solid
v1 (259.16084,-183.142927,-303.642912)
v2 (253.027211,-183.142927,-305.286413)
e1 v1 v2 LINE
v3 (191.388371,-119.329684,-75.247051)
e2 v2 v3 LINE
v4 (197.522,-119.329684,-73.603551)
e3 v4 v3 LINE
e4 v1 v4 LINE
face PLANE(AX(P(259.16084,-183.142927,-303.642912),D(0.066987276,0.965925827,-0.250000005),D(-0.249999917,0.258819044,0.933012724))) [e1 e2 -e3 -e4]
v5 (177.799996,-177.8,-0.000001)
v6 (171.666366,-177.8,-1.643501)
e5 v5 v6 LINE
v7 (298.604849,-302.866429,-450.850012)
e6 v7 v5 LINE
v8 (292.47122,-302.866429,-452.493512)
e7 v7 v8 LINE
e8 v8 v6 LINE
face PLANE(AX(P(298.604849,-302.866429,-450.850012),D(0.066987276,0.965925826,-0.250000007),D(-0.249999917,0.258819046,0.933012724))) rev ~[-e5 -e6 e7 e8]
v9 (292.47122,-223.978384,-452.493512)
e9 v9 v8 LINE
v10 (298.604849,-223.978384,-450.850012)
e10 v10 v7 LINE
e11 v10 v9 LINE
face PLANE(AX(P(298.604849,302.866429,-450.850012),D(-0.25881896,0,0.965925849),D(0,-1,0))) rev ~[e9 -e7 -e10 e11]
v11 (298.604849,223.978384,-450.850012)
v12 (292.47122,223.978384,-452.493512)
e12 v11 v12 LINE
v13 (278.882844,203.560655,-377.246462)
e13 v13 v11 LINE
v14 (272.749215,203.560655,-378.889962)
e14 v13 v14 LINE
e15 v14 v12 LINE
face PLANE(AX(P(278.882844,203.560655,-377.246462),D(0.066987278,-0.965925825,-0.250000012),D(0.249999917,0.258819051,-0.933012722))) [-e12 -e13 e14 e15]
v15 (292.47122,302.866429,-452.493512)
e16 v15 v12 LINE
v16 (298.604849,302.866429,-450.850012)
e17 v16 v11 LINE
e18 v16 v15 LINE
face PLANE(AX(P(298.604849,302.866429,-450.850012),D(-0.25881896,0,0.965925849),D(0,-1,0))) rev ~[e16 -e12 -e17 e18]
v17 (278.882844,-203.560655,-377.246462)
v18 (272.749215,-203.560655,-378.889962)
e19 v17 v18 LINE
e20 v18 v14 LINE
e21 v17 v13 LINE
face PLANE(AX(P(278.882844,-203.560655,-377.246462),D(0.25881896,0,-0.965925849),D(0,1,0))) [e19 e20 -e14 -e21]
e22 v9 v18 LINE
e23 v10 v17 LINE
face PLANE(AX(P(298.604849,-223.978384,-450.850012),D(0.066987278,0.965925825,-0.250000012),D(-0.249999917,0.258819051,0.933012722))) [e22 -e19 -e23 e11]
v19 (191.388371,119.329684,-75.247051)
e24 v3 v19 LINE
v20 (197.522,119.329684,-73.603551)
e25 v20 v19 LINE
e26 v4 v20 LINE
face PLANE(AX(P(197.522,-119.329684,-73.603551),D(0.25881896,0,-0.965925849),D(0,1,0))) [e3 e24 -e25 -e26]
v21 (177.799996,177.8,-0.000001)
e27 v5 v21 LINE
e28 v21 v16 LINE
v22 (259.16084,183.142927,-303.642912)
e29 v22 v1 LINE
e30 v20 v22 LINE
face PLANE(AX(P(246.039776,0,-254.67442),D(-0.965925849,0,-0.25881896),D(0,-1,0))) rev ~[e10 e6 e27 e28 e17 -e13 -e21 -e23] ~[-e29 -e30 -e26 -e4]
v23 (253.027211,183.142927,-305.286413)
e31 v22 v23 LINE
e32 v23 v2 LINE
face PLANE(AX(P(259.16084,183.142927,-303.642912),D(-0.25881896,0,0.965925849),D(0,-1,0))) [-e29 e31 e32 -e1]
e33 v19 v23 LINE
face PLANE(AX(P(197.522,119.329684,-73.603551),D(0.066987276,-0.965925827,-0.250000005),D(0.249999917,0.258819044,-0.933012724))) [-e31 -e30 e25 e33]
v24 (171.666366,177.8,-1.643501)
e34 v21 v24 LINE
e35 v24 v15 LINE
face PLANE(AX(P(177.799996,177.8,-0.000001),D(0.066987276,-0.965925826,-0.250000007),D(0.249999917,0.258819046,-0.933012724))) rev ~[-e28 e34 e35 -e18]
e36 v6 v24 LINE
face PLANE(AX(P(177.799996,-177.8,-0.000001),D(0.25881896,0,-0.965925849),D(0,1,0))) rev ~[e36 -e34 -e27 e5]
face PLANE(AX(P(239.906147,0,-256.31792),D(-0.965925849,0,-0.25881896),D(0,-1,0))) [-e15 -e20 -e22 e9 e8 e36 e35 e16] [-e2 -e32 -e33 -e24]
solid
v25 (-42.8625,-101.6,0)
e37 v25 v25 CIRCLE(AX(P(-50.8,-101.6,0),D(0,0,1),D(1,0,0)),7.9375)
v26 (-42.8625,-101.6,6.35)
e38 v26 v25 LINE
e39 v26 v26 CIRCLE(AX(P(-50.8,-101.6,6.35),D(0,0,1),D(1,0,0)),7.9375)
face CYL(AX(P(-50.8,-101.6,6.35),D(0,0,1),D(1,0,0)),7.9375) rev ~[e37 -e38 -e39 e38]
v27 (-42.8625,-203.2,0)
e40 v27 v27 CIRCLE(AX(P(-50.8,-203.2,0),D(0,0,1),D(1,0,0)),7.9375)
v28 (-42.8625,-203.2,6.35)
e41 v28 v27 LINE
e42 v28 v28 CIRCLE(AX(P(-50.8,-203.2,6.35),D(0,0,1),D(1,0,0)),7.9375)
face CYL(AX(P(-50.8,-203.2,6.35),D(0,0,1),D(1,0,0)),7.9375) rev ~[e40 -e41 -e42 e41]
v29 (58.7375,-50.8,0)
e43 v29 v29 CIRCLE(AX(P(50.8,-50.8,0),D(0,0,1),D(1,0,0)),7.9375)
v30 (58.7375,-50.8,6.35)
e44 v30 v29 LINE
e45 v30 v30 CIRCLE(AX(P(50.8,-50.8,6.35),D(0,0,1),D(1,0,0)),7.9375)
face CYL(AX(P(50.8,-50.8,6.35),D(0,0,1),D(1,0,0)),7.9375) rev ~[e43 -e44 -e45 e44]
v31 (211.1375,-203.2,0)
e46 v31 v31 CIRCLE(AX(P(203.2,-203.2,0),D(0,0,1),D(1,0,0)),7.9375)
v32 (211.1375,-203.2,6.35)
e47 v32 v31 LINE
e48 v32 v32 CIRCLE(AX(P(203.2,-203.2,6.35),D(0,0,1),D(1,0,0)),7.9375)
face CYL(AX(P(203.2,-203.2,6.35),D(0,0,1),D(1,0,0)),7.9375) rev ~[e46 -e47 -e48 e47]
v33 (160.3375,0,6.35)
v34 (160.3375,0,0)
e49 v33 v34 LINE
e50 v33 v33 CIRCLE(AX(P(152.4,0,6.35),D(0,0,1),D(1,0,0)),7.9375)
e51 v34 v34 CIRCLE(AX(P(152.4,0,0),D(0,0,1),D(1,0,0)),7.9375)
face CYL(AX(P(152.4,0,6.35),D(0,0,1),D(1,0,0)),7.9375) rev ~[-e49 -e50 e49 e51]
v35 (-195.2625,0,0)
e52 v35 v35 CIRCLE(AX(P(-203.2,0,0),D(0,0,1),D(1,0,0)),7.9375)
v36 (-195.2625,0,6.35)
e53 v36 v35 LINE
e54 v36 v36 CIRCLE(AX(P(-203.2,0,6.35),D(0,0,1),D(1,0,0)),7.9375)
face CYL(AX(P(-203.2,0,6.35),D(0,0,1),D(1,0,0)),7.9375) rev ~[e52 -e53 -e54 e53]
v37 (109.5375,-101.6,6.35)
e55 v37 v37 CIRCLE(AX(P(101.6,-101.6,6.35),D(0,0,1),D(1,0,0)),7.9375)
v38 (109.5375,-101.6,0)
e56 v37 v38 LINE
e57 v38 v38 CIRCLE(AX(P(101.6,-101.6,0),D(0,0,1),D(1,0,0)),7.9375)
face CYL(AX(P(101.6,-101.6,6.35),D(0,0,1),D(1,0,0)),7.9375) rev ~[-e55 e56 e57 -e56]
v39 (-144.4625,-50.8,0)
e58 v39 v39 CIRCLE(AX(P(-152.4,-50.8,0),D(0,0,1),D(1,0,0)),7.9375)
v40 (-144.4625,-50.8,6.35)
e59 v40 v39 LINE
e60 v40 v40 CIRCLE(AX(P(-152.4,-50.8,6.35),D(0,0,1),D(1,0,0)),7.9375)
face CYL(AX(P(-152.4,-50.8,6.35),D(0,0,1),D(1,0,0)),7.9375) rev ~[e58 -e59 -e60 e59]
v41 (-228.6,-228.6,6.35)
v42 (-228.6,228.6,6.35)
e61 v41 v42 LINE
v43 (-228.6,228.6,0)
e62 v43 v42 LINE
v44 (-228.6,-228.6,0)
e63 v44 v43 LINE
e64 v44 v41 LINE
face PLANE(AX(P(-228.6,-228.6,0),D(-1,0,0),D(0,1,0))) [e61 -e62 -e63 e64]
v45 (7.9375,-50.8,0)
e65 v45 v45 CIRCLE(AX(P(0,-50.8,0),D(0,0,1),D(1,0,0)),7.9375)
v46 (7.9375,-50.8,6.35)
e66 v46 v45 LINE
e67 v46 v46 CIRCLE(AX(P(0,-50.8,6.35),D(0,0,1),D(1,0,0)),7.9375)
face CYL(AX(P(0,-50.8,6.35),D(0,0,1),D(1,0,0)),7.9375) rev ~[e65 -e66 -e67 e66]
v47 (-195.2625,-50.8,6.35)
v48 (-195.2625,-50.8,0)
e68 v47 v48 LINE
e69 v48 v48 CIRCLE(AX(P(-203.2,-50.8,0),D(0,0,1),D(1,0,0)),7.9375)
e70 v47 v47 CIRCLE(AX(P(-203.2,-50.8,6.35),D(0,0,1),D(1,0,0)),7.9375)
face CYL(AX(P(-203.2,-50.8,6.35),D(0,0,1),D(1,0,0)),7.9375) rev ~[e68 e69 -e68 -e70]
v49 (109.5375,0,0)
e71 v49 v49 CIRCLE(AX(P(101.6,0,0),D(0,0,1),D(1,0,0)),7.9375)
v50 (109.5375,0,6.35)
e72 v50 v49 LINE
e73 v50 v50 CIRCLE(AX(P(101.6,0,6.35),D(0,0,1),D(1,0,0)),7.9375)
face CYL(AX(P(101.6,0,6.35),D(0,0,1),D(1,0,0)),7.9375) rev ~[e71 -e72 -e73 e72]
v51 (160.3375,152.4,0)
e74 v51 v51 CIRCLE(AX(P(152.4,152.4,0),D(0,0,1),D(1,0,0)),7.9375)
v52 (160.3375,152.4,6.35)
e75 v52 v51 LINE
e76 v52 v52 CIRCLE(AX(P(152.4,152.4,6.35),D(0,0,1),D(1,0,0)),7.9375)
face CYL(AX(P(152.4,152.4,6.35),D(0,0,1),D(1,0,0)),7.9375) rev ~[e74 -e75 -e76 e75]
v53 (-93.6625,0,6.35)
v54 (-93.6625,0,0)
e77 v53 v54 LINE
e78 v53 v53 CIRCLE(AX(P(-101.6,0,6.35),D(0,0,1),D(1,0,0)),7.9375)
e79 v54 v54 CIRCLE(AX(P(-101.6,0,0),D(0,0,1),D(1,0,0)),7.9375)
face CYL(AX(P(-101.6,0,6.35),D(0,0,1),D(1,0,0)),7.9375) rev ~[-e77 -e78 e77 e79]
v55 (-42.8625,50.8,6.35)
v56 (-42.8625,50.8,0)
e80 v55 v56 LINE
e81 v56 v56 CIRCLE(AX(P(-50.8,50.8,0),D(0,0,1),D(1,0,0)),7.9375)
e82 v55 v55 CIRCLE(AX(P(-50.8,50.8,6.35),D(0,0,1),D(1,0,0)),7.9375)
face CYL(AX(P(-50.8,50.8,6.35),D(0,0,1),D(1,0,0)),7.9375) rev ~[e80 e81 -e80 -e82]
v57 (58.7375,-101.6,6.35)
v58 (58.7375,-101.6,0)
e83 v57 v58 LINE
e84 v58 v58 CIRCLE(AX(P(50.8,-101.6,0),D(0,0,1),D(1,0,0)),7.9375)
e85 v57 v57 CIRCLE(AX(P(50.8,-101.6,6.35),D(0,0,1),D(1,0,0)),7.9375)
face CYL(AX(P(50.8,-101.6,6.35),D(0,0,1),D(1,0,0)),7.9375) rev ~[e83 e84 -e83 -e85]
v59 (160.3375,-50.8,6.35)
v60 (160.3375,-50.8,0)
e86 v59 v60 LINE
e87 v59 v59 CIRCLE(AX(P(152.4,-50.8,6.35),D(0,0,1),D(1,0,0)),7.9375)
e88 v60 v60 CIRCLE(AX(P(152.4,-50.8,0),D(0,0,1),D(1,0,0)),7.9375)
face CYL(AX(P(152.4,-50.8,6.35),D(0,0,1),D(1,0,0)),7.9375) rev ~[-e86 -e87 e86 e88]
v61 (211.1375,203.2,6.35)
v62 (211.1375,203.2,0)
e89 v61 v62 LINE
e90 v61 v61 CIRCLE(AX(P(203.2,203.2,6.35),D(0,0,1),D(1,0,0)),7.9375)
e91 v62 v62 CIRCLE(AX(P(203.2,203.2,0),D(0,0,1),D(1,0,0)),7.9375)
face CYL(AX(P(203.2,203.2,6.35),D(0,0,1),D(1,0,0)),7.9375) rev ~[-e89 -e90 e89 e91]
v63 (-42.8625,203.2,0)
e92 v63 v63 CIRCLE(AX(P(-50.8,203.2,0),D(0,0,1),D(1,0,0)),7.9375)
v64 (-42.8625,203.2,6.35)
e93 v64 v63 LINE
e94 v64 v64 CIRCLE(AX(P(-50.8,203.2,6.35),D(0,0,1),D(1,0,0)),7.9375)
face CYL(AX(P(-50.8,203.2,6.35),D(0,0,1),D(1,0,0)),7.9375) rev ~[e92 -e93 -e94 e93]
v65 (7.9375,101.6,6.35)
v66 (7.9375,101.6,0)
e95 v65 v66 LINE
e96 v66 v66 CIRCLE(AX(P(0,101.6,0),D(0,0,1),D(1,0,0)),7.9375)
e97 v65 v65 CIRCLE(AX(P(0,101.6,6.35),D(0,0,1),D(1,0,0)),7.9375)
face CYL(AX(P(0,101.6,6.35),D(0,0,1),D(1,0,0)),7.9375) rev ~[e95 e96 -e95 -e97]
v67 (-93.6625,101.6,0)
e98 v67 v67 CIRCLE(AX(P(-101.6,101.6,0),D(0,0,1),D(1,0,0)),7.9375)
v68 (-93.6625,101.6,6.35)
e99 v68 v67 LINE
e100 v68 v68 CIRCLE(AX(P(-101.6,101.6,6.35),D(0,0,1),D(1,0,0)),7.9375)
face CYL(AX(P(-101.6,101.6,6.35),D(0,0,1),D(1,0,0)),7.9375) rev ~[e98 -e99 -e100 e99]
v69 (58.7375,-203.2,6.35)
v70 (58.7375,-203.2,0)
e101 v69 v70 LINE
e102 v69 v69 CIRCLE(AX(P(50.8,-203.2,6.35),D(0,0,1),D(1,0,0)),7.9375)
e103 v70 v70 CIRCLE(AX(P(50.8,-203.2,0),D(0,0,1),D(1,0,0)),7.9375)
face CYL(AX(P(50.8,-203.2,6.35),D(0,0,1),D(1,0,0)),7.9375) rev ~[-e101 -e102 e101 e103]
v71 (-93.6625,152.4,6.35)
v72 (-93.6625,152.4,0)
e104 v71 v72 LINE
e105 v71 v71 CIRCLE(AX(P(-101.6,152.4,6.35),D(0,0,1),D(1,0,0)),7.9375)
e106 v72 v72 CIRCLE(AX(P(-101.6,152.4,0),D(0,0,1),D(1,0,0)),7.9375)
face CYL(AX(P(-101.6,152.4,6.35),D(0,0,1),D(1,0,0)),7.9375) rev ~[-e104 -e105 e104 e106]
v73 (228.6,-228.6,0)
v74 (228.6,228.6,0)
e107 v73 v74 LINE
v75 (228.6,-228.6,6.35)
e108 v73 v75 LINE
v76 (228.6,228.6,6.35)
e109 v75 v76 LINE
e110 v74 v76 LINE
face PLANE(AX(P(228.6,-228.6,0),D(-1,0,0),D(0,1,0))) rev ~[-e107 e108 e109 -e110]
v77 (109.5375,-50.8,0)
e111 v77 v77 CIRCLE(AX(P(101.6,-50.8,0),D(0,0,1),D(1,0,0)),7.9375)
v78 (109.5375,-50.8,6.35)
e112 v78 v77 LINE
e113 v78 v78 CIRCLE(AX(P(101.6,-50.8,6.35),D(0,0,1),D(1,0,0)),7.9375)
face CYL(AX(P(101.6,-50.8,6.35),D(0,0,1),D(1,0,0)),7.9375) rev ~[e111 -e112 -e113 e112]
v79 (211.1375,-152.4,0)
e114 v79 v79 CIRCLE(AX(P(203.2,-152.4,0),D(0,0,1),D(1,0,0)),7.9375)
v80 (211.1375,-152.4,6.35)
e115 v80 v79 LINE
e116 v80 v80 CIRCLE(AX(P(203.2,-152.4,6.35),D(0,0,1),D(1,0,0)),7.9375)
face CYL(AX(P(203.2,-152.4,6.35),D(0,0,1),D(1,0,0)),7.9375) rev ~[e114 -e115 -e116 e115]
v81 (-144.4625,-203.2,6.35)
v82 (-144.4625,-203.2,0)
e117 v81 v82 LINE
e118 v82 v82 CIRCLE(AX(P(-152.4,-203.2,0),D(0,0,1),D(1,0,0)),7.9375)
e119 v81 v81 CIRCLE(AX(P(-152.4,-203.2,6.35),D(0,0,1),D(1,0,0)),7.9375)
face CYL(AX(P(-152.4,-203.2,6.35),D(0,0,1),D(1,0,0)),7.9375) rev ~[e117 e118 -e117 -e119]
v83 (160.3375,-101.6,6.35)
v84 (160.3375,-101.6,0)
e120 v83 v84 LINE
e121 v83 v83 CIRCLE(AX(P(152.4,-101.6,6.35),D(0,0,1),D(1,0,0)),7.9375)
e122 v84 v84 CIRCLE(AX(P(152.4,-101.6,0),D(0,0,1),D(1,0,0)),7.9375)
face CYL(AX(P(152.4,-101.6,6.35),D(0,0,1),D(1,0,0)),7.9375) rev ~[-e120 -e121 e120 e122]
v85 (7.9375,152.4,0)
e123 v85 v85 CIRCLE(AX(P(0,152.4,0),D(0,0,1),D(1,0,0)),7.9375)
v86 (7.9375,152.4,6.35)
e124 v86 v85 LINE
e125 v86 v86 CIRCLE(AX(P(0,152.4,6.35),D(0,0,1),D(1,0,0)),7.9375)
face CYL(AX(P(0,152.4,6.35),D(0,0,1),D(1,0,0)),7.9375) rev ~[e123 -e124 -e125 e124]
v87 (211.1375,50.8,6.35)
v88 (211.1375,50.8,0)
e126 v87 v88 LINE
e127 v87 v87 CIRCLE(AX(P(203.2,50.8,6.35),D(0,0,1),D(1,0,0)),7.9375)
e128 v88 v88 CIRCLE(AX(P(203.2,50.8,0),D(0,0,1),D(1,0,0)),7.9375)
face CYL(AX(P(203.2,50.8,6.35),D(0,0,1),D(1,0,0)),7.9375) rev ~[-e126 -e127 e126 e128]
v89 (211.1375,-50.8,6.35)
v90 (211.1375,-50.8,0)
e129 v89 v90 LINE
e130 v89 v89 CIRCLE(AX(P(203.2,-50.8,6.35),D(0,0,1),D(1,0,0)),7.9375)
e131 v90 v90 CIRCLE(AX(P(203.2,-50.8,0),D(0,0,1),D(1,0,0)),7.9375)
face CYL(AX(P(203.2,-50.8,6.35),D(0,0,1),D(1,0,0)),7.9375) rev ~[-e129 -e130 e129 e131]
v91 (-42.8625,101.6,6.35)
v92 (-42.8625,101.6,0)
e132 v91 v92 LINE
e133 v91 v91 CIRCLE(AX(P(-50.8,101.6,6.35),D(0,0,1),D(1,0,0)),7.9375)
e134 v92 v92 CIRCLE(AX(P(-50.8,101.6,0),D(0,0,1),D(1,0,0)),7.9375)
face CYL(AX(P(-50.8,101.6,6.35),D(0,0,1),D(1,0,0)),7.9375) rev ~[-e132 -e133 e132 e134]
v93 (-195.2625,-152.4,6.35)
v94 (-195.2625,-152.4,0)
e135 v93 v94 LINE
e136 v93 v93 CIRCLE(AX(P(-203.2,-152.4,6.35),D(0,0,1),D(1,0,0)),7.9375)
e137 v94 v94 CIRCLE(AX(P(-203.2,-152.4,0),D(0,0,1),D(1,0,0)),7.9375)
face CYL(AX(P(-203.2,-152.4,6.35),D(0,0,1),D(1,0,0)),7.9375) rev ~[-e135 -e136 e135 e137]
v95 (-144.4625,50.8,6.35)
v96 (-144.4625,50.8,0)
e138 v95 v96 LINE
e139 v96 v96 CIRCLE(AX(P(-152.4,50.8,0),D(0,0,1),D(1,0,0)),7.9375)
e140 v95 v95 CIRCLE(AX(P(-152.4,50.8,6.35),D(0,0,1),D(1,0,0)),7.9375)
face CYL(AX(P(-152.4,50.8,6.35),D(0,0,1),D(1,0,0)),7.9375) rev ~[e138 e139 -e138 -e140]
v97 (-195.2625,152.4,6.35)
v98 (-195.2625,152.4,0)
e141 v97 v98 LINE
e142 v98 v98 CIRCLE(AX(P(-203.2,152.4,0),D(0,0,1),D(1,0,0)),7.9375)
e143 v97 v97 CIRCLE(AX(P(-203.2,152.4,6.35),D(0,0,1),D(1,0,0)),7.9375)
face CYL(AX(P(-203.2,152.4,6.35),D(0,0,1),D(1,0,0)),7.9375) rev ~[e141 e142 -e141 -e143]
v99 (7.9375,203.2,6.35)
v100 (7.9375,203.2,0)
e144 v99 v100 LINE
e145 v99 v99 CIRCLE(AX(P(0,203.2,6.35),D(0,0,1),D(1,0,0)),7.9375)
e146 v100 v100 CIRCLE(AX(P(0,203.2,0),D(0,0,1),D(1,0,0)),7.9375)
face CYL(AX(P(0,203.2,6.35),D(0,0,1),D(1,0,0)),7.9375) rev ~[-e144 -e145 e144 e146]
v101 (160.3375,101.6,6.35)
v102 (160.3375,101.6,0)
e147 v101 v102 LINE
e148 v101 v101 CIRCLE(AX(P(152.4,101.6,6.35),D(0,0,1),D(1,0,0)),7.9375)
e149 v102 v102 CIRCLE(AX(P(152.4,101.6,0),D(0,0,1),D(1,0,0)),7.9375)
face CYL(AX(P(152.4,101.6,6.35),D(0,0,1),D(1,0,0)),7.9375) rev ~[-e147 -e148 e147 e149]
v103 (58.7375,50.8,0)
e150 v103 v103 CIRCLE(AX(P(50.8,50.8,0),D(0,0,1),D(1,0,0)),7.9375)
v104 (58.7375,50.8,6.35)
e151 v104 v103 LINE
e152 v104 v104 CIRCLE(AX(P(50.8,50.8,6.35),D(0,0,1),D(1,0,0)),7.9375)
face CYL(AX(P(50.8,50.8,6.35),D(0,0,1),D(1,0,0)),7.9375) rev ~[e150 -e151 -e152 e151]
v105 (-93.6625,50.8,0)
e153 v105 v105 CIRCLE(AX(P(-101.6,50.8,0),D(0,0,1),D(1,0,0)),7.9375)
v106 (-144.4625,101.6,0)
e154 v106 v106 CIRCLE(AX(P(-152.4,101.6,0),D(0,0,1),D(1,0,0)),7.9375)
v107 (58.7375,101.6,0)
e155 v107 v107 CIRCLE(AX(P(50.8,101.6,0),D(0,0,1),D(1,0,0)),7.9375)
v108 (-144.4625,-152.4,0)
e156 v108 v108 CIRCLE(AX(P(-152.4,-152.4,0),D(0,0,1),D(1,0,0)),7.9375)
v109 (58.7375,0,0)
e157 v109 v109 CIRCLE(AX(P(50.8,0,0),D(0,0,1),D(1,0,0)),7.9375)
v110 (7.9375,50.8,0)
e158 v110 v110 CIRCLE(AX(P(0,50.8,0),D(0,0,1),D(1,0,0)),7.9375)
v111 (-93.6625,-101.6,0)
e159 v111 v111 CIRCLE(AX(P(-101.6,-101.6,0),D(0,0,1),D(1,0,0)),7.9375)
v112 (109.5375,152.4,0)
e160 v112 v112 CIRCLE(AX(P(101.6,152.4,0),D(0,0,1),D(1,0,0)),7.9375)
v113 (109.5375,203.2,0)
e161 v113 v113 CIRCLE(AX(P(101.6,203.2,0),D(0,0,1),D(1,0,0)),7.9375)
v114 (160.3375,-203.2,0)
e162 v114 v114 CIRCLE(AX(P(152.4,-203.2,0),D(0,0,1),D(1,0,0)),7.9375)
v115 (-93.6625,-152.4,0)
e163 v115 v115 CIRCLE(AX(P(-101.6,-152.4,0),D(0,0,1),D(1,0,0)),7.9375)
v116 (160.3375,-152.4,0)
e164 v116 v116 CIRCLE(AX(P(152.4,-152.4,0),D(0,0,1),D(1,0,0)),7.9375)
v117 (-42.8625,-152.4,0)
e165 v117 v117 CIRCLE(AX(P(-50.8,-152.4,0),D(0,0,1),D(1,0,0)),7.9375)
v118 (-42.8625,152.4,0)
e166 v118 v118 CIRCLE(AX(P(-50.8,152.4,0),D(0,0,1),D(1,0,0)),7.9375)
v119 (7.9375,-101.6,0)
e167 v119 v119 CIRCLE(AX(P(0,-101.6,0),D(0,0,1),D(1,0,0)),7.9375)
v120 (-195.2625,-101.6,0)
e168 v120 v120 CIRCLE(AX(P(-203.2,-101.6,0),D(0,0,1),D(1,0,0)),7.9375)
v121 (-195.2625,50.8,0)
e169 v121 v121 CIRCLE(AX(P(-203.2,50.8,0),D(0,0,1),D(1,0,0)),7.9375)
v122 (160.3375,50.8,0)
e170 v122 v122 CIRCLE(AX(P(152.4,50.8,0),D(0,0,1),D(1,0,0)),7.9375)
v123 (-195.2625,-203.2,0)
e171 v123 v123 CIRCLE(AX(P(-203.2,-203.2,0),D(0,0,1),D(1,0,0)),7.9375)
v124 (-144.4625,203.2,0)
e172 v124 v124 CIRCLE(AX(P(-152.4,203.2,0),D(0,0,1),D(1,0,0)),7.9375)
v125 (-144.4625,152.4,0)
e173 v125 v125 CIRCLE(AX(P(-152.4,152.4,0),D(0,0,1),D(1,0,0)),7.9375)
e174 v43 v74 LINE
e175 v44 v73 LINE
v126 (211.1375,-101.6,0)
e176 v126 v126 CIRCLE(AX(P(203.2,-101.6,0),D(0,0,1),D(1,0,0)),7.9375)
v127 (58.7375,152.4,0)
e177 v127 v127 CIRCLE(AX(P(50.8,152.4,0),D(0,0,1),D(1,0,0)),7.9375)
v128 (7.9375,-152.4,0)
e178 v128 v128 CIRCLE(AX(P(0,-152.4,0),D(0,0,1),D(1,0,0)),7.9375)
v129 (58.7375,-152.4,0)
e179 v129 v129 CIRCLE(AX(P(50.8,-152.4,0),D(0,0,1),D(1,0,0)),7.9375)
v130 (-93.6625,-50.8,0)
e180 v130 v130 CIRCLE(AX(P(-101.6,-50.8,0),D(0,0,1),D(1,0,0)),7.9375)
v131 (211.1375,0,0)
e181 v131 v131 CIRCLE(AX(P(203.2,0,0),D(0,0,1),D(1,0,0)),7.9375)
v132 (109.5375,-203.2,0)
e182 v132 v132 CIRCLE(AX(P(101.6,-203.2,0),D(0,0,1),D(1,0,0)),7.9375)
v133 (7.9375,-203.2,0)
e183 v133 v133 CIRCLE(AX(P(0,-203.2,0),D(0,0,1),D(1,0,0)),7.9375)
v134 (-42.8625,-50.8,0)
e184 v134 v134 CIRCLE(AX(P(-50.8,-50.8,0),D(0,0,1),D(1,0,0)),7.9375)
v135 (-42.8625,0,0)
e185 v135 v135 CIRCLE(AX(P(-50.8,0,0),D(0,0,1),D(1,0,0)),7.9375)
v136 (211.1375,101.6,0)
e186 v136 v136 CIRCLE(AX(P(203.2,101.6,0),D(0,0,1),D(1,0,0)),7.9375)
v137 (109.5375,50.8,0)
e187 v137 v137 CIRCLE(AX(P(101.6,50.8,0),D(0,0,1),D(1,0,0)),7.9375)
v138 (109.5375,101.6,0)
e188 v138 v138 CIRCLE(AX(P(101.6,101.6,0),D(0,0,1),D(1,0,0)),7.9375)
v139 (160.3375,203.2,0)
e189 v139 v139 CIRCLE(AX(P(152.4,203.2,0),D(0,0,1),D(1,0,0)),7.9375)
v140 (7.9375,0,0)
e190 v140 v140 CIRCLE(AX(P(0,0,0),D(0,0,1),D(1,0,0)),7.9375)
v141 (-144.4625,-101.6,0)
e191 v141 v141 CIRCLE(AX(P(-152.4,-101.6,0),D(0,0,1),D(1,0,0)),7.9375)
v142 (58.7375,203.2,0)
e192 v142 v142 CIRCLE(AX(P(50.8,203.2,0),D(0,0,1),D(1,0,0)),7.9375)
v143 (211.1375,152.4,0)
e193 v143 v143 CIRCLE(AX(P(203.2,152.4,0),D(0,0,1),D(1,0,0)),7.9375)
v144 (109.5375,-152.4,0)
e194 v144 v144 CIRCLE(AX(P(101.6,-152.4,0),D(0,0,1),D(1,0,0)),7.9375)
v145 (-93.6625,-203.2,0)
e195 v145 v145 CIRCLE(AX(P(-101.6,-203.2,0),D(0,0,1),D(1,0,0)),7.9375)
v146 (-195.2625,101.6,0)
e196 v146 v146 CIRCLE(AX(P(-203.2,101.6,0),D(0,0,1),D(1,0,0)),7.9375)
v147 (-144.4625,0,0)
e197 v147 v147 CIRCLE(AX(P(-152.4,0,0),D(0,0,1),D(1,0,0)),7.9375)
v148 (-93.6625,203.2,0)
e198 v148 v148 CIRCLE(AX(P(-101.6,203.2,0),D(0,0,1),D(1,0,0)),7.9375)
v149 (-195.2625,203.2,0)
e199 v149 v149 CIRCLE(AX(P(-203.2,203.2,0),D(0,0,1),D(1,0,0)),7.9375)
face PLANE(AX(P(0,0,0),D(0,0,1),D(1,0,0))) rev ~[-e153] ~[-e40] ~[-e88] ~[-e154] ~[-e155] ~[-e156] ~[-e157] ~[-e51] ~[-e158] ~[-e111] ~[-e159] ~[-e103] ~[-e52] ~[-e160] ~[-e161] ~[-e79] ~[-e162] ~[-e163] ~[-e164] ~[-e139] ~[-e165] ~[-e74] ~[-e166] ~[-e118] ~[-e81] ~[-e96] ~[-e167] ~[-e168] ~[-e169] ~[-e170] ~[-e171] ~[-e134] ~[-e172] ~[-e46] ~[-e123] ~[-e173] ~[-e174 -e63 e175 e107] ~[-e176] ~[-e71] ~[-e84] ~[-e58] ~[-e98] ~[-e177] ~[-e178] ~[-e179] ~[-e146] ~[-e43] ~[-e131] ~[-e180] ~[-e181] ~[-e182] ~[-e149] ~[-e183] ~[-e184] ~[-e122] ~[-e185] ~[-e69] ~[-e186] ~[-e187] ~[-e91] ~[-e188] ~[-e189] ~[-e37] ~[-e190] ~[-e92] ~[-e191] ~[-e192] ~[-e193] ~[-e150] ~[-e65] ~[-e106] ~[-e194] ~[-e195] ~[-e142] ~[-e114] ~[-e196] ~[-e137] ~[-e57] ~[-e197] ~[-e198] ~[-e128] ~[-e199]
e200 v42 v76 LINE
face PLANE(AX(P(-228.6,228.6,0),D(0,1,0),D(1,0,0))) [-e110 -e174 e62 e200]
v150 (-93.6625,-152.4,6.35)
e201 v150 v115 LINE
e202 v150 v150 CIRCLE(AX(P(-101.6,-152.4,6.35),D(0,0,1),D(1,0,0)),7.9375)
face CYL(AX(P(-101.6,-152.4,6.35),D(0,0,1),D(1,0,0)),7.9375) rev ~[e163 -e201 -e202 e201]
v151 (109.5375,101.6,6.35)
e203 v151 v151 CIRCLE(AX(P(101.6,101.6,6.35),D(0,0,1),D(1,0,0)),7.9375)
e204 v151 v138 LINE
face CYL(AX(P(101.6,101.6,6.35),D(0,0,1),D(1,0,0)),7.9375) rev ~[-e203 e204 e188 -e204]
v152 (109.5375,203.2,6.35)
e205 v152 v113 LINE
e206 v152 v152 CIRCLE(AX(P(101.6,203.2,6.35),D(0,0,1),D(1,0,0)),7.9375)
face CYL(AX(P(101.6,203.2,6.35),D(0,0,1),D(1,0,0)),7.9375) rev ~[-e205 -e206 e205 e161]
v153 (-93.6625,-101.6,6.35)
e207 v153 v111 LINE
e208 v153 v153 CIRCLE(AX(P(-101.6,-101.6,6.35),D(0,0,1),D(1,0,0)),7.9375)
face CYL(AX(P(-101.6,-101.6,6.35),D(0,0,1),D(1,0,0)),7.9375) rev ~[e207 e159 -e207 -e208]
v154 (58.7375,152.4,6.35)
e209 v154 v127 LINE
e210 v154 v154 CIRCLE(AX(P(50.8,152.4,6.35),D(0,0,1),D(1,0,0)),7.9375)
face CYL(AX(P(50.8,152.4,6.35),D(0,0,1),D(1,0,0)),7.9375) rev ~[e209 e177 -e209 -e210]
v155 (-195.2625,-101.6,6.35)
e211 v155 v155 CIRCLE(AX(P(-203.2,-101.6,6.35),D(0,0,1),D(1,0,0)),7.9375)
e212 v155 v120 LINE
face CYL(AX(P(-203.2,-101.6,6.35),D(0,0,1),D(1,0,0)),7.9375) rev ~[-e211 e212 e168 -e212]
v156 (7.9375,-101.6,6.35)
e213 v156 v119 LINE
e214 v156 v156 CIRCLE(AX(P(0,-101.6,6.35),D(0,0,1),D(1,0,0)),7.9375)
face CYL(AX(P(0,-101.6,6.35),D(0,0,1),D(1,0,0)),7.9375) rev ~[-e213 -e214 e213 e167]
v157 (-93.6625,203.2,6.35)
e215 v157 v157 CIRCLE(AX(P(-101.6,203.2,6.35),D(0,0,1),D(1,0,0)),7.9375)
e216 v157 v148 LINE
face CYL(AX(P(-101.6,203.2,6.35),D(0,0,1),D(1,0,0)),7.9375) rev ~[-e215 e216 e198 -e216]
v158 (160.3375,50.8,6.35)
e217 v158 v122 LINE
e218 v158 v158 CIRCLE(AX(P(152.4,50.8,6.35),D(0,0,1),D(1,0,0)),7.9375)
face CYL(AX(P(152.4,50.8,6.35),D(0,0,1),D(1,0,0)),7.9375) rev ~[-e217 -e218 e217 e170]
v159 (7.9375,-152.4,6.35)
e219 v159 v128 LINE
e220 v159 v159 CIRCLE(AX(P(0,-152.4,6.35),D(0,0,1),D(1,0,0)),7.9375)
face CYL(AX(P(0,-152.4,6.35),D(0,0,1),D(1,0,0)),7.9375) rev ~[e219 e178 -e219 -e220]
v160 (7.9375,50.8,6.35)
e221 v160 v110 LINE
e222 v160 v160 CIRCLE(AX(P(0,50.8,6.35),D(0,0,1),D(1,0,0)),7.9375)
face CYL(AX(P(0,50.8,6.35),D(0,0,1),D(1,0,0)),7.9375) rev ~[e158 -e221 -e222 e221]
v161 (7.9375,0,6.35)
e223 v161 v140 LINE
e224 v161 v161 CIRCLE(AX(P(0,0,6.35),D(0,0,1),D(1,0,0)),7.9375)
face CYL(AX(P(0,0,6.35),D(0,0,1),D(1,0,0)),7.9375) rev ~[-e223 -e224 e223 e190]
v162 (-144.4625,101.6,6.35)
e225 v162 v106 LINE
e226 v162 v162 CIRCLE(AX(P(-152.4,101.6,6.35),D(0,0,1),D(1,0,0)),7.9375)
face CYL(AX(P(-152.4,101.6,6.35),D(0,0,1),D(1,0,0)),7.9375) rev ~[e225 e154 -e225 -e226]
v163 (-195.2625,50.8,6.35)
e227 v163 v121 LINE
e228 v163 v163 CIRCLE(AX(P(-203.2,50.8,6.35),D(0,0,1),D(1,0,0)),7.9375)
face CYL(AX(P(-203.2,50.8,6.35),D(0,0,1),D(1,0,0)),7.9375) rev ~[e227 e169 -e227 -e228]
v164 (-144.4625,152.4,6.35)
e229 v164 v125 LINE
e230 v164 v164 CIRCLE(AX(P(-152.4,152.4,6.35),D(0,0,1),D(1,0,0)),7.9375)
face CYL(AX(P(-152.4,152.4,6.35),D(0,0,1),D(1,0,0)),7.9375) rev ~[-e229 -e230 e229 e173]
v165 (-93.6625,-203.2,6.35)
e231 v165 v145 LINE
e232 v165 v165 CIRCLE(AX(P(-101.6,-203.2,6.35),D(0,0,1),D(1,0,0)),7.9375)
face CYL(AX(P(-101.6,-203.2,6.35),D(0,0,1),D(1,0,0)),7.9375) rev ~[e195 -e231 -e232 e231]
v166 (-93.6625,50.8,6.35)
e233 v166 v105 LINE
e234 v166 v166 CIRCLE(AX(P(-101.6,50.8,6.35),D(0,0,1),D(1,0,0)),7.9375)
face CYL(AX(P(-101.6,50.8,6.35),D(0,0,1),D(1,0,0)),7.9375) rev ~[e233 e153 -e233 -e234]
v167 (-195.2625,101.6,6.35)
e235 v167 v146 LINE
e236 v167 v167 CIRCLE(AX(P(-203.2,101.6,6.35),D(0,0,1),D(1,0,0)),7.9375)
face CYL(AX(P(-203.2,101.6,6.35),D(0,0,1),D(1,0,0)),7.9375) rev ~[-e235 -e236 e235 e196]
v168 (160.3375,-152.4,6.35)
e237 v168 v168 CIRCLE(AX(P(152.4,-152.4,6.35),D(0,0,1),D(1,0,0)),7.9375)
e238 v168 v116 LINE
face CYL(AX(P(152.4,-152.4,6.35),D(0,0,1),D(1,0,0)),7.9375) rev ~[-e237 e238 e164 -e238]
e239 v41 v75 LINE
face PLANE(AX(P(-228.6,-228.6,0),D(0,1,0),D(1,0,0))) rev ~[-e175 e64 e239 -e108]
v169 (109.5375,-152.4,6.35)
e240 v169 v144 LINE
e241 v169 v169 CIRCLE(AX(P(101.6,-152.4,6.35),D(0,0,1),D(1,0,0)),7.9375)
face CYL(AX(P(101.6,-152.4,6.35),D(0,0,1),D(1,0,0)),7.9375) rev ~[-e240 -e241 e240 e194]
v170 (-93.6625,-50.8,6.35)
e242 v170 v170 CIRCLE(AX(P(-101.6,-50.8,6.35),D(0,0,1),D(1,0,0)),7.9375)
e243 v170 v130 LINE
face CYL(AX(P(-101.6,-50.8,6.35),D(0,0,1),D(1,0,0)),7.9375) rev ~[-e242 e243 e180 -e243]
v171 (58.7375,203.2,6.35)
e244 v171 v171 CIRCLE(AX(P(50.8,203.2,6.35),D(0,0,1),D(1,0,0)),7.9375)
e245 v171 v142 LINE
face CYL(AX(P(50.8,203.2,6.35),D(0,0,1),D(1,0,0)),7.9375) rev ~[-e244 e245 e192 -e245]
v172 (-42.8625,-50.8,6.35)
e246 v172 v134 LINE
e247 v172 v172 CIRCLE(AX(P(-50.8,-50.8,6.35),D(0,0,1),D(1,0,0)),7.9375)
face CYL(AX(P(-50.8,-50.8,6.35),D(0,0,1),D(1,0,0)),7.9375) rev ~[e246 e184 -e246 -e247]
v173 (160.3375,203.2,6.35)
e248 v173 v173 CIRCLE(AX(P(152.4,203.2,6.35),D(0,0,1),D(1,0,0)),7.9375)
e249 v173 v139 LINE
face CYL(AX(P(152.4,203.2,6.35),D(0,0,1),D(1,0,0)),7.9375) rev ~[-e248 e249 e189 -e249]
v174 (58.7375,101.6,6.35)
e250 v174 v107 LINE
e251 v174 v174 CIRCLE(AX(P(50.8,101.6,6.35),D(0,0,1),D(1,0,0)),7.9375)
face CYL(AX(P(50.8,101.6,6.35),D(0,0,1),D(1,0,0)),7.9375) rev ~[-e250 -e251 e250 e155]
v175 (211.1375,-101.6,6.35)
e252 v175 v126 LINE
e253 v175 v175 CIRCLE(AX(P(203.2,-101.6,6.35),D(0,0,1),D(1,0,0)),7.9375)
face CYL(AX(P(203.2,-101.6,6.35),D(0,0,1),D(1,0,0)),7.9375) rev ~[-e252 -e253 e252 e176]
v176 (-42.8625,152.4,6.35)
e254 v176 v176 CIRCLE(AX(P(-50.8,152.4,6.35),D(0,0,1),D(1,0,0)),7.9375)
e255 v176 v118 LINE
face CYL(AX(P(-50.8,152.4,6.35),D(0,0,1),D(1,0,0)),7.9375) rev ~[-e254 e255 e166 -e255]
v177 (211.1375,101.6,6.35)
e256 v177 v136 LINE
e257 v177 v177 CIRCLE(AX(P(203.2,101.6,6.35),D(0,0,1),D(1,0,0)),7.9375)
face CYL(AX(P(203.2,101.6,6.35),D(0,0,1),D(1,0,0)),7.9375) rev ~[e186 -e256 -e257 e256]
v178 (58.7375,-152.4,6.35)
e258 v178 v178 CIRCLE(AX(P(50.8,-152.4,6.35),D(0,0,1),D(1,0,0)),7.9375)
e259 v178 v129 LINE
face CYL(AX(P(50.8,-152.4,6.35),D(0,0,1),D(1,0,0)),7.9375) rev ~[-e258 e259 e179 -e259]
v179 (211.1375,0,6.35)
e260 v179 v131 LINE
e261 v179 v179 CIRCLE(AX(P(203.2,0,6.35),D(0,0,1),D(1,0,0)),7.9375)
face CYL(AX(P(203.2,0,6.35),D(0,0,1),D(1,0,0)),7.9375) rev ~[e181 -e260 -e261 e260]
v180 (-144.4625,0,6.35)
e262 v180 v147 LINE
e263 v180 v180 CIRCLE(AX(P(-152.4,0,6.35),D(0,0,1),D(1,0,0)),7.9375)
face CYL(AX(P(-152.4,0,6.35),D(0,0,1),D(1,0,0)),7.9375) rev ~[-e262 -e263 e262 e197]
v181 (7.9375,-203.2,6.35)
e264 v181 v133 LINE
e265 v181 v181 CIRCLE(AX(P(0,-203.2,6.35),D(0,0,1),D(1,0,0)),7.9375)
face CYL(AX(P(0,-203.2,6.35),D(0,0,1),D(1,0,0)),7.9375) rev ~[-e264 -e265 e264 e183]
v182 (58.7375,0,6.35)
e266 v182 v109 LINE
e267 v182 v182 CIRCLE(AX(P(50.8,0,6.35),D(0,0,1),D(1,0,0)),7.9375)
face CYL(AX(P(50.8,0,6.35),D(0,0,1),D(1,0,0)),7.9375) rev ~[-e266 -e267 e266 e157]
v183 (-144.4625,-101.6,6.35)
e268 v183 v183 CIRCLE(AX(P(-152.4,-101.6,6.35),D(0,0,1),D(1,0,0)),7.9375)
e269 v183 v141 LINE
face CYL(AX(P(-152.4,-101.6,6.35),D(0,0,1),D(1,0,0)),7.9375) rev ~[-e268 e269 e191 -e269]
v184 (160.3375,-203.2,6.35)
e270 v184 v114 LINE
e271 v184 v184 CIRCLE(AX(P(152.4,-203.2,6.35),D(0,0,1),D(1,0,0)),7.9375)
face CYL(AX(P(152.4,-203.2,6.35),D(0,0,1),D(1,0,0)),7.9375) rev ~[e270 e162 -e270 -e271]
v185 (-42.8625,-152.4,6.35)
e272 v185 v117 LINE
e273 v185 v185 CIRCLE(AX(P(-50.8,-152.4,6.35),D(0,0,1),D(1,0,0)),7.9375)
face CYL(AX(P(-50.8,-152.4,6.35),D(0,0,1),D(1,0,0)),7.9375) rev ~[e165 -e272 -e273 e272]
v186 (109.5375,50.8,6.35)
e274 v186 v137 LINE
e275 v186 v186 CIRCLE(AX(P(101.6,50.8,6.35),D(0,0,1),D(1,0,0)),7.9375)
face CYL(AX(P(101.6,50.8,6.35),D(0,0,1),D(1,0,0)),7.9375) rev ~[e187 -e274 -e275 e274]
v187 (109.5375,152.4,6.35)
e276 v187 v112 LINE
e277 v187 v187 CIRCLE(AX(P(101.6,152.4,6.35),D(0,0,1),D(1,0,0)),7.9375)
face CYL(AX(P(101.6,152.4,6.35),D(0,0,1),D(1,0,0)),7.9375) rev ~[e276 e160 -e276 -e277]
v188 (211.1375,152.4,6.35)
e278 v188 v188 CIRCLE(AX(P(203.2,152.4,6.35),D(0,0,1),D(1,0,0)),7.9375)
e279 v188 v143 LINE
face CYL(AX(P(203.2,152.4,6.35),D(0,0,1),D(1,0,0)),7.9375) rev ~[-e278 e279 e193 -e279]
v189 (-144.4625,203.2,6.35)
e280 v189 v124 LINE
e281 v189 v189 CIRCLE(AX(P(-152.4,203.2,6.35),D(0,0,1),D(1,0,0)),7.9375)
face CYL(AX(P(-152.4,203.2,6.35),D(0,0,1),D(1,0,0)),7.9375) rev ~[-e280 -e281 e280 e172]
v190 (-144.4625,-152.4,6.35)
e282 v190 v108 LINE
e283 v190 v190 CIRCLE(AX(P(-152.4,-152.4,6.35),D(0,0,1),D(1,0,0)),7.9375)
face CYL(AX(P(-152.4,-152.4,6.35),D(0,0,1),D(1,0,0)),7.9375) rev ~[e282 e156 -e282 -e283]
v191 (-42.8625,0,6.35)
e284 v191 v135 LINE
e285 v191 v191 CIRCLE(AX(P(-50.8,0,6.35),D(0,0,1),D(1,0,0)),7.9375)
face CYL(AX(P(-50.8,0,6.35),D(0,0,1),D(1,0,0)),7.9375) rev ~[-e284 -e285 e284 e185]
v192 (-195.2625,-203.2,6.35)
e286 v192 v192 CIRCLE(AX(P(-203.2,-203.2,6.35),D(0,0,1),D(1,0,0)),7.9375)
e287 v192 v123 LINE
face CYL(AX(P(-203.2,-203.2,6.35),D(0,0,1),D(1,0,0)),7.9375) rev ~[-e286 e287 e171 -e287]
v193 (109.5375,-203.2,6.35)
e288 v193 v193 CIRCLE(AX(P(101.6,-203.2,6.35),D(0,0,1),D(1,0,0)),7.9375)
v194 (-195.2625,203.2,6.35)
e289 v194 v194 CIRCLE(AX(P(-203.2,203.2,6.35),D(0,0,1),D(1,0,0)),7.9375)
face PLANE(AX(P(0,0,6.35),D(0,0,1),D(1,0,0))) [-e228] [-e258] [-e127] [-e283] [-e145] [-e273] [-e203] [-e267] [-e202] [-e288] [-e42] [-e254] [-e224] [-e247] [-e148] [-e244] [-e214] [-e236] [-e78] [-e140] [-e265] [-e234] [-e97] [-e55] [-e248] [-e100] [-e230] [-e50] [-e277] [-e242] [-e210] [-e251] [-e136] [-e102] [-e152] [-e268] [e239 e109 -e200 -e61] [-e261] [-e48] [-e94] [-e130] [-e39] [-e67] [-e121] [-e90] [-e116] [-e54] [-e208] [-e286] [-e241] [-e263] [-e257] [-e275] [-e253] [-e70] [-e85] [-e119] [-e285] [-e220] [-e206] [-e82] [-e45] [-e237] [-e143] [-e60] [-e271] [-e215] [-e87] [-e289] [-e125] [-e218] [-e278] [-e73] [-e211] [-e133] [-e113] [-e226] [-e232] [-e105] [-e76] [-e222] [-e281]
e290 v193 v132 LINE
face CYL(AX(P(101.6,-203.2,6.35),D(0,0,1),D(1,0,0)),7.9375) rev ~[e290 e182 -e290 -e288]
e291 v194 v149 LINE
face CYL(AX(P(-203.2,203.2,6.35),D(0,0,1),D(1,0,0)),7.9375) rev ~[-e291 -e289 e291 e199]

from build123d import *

# Parameters (mm, degrees)
F0_W      = 457.2
F0_H      = 457.2
F1_DEPTH  = 6.35
F2_R      = 7.9375
F3_DEPTH  = 6.35
F9_DEPTH  = 6.35
F11_DEPTH = 6.35


with BuildPart() as f1:
    # F0 (on Top) → F1 (new body)
    with BuildSketch(Plane.XY):
        Rectangle(F0_W, F0_H)
    extrude(amount=F1_DEPTH)

    # F2 (on face) → F3 (cut, through all)
    with BuildSketch(Plane.XY.offset(6.35)):
        with Locations((-203.2, 203.2)):
            Circle(F2_R)
        with Locations((-203.2, 152.4)):
            Circle(F2_R)
        with Locations((-203.2, 101.6)):
            Circle(F2_R)
        with Locations((-203.2, 50.8)):
            Circle(F2_R)
        with Locations((-203.2, 0)):
            Circle(F2_R)
        with Locations((-203.2, -50.8)):
            Circle(F2_R)
        with Locations((-203.2, -101.6)):
            Circle(F2_R)
        with Locations((-203.2, -152.4)):
            Circle(F2_R)
        with Locations((-203.2, -203.2)):
            Circle(F2_R)
        with Locations((-152.4, 203.2)):
            Circle(F2_R)
        with Locations((-152.4, 152.4)):
            Circle(F2_R)
        with Locations((-152.4, 101.6)):
            Circle(F2_R)
        with Locations((-152.4, 50.8)):
            Circle(F2_R)
        with Locations((-152.4, 0)):
            Circle(F2_R)
        with Locations((-152.4, -50.8)):
            Circle(F2_R)
        with Locations((-152.4, -101.6)):
            Circle(F2_R)
        with Locations((-152.4, -152.4)):
            Circle(F2_R)
        with Locations((-152.4, -203.2)):
            Circle(F2_R)
        with Locations((-101.6, 203.2)):
            Circle(F2_R)
        with Locations((-101.6, 152.4)):
            Circle(F2_R)
        with Locations((-101.6, 101.6)):
            Circle(F2_R)
        with Locations((-101.6, 50.8)):
            Circle(F2_R)
        with Locations((-101.6, 0)):
            Circle(F2_R)
        with Locations((-101.6, -50.8)):
            Circle(F2_R)
        with Locations((-101.6, -101.6)):
            Circle(F2_R)
        with Locations((-101.6, -152.4)):
            Circle(F2_R)
        with Locations((-101.6, -203.2)):
            Circle(F2_R)
        with Locations((-50.8, 203.2)):
            Circle(F2_R)
        with Locations((-50.8, 152.4)):
            Circle(F2_R)
        with Locations((-50.8, 101.6)):
            Circle(F2_R)
        with Locations((-50.8, 50.8)):
            Circle(F2_R)
        with Locations((-50.8, 0)):
            Circle(F2_R)
        with Locations((-50.8, -50.8)):
            Circle(F2_R)
        with Locations((-50.8, -101.6)):
            Circle(F2_R)
        with Locations((-50.8, -152.4)):
            Circle(F2_R)
        with Locations((-50.8, -203.2)):
            Circle(F2_R)
        with Locations((0, 203.2)):
            Circle(F2_R)
        with Locations((0, 152.4)):
            Circle(F2_R)
        with Locations((0, 101.6)):
            Circle(F2_R)
        with Locations((0, 50.8)):
            Circle(F2_R)
        Circle(F2_R)
        with Locations((0, -50.8)):
            Circle(F2_R)
        with Locations((0, -101.6)):
            Circle(F2_R)
        with Locations((0, -152.4)):
            Circle(F2_R)
        with Locations((0, -203.2)):
            Circle(F2_R)
        with Locations((50.8, 203.2)):
            Circle(F2_R)
        with Locations((50.8, 152.4)):
            Circle(F2_R)
        with Locations((50.8, 101.6)):
            Circle(F2_R)
        with Locations((50.8, 50.8)):
            Circle(F2_R)
        with Locations((50.8, 0)):
            Circle(F2_R)
        with Locations((50.8, -50.8)):
            Circle(F2_R)
        with Locations((50.8, -101.6)):
            Circle(F2_R)
        with Locations((50.8, -152.4)):
            Circle(F2_R)
        with Locations((50.8, -203.2)):
            Circle(F2_R)
        with Locations((101.6, 203.2)):
            Circle(F2_R)
        with Locations((101.6, 152.4)):
            Circle(F2_R)
        with Locations((101.6, 101.6)):
            Circle(F2_R)
        with Locations((101.6, 50.8)):
            Circle(F2_R)
        with Locations((101.6, 0)):
            Circle(F2_R)
        with Locations((101.6, -50.8)):
            Circle(F2_R)
        with Locations((101.6, -101.6)):
            Circle(F2_R)
        with Locations((101.6, -152.4)):
            Circle(F2_R)
        with Locations((101.6, -203.2)):
            Circle(F2_R)
        with Locations((152.4, 203.2)):
            Circle(F2_R)
        with Locations((152.4, 152.4)):
            Circle(F2_R)
        with Locations((152.4, 101.6)):
            Circle(F2_R)
        with Locations((152.4, 50.8)):
            Circle(F2_R)
        with Locations((152.4, 0)):
            Circle(F2_R)
        with Locations((152.4, -50.8)):
            Circle(F2_R)
        with Locations((152.4, -101.6)):
            Circle(F2_R)
        with Locations((152.4, -152.4)):
            Circle(F2_R)
        with Locations((152.4, -203.2)):
            Circle(F2_R)
        with Locations((203.2, 203.2)):
            Circle(F2_R)
        with Locations((203.2, 152.4)):
            Circle(F2_R)
        with Locations((203.2, 101.6)):
            Circle(F2_R)
        with Locations((203.2, 50.8)):
            Circle(F2_R)
        with Locations((203.2, 0)):
            Circle(F2_R)
        with Locations((203.2, -50.8)):
            Circle(F2_R)
        with Locations((203.2, -101.6)):
            Circle(F2_R)
        with Locations((203.2, -152.4)):
            Circle(F2_R)
        with Locations((203.2, -203.2)):
            Circle(F2_R)
    extrude(amount=-F3_DEPTH, mode=Mode.SUBTRACT)


with BuildPart() as f9:
    # F8 (on face) → F9 (new body)
    with BuildSketch(Plane(origin=(165.889658, 0, 44.45), x_dir=(0, -1, 0), z_dir=(-0.965926, 0, -0.258819))):
        Polygon((302.866429, -512.772292), (177.8, -46.018026), (-177.8, -46.018026), (-302.866429, -512.772292), align=None)
    extrude(amount=F9_DEPTH)

    # F10 (on face) → F11 (cut, through all)
    with BuildSketch(Plane(origin=(165.889658, 0, 44.45), x_dir=(0, -1, 0), z_dir=(-0.965926, 0, -0.258819))):
        Polygon((183.142927, -360.372292), (119.329684, -122.218026), (-119.329684, -122.218026), (-183.142927, -360.372292), align=None)
        Polygon((203.560655, -436.572292), (-203.560655, -436.572292), (-223.978384, -512.772292), (223.978384, -512.772292), align=None)
    extrude(amount=F11_DEPTH, mode=Mode.SUBTRACT)


solid = Compound([f1.part, f9.part])
